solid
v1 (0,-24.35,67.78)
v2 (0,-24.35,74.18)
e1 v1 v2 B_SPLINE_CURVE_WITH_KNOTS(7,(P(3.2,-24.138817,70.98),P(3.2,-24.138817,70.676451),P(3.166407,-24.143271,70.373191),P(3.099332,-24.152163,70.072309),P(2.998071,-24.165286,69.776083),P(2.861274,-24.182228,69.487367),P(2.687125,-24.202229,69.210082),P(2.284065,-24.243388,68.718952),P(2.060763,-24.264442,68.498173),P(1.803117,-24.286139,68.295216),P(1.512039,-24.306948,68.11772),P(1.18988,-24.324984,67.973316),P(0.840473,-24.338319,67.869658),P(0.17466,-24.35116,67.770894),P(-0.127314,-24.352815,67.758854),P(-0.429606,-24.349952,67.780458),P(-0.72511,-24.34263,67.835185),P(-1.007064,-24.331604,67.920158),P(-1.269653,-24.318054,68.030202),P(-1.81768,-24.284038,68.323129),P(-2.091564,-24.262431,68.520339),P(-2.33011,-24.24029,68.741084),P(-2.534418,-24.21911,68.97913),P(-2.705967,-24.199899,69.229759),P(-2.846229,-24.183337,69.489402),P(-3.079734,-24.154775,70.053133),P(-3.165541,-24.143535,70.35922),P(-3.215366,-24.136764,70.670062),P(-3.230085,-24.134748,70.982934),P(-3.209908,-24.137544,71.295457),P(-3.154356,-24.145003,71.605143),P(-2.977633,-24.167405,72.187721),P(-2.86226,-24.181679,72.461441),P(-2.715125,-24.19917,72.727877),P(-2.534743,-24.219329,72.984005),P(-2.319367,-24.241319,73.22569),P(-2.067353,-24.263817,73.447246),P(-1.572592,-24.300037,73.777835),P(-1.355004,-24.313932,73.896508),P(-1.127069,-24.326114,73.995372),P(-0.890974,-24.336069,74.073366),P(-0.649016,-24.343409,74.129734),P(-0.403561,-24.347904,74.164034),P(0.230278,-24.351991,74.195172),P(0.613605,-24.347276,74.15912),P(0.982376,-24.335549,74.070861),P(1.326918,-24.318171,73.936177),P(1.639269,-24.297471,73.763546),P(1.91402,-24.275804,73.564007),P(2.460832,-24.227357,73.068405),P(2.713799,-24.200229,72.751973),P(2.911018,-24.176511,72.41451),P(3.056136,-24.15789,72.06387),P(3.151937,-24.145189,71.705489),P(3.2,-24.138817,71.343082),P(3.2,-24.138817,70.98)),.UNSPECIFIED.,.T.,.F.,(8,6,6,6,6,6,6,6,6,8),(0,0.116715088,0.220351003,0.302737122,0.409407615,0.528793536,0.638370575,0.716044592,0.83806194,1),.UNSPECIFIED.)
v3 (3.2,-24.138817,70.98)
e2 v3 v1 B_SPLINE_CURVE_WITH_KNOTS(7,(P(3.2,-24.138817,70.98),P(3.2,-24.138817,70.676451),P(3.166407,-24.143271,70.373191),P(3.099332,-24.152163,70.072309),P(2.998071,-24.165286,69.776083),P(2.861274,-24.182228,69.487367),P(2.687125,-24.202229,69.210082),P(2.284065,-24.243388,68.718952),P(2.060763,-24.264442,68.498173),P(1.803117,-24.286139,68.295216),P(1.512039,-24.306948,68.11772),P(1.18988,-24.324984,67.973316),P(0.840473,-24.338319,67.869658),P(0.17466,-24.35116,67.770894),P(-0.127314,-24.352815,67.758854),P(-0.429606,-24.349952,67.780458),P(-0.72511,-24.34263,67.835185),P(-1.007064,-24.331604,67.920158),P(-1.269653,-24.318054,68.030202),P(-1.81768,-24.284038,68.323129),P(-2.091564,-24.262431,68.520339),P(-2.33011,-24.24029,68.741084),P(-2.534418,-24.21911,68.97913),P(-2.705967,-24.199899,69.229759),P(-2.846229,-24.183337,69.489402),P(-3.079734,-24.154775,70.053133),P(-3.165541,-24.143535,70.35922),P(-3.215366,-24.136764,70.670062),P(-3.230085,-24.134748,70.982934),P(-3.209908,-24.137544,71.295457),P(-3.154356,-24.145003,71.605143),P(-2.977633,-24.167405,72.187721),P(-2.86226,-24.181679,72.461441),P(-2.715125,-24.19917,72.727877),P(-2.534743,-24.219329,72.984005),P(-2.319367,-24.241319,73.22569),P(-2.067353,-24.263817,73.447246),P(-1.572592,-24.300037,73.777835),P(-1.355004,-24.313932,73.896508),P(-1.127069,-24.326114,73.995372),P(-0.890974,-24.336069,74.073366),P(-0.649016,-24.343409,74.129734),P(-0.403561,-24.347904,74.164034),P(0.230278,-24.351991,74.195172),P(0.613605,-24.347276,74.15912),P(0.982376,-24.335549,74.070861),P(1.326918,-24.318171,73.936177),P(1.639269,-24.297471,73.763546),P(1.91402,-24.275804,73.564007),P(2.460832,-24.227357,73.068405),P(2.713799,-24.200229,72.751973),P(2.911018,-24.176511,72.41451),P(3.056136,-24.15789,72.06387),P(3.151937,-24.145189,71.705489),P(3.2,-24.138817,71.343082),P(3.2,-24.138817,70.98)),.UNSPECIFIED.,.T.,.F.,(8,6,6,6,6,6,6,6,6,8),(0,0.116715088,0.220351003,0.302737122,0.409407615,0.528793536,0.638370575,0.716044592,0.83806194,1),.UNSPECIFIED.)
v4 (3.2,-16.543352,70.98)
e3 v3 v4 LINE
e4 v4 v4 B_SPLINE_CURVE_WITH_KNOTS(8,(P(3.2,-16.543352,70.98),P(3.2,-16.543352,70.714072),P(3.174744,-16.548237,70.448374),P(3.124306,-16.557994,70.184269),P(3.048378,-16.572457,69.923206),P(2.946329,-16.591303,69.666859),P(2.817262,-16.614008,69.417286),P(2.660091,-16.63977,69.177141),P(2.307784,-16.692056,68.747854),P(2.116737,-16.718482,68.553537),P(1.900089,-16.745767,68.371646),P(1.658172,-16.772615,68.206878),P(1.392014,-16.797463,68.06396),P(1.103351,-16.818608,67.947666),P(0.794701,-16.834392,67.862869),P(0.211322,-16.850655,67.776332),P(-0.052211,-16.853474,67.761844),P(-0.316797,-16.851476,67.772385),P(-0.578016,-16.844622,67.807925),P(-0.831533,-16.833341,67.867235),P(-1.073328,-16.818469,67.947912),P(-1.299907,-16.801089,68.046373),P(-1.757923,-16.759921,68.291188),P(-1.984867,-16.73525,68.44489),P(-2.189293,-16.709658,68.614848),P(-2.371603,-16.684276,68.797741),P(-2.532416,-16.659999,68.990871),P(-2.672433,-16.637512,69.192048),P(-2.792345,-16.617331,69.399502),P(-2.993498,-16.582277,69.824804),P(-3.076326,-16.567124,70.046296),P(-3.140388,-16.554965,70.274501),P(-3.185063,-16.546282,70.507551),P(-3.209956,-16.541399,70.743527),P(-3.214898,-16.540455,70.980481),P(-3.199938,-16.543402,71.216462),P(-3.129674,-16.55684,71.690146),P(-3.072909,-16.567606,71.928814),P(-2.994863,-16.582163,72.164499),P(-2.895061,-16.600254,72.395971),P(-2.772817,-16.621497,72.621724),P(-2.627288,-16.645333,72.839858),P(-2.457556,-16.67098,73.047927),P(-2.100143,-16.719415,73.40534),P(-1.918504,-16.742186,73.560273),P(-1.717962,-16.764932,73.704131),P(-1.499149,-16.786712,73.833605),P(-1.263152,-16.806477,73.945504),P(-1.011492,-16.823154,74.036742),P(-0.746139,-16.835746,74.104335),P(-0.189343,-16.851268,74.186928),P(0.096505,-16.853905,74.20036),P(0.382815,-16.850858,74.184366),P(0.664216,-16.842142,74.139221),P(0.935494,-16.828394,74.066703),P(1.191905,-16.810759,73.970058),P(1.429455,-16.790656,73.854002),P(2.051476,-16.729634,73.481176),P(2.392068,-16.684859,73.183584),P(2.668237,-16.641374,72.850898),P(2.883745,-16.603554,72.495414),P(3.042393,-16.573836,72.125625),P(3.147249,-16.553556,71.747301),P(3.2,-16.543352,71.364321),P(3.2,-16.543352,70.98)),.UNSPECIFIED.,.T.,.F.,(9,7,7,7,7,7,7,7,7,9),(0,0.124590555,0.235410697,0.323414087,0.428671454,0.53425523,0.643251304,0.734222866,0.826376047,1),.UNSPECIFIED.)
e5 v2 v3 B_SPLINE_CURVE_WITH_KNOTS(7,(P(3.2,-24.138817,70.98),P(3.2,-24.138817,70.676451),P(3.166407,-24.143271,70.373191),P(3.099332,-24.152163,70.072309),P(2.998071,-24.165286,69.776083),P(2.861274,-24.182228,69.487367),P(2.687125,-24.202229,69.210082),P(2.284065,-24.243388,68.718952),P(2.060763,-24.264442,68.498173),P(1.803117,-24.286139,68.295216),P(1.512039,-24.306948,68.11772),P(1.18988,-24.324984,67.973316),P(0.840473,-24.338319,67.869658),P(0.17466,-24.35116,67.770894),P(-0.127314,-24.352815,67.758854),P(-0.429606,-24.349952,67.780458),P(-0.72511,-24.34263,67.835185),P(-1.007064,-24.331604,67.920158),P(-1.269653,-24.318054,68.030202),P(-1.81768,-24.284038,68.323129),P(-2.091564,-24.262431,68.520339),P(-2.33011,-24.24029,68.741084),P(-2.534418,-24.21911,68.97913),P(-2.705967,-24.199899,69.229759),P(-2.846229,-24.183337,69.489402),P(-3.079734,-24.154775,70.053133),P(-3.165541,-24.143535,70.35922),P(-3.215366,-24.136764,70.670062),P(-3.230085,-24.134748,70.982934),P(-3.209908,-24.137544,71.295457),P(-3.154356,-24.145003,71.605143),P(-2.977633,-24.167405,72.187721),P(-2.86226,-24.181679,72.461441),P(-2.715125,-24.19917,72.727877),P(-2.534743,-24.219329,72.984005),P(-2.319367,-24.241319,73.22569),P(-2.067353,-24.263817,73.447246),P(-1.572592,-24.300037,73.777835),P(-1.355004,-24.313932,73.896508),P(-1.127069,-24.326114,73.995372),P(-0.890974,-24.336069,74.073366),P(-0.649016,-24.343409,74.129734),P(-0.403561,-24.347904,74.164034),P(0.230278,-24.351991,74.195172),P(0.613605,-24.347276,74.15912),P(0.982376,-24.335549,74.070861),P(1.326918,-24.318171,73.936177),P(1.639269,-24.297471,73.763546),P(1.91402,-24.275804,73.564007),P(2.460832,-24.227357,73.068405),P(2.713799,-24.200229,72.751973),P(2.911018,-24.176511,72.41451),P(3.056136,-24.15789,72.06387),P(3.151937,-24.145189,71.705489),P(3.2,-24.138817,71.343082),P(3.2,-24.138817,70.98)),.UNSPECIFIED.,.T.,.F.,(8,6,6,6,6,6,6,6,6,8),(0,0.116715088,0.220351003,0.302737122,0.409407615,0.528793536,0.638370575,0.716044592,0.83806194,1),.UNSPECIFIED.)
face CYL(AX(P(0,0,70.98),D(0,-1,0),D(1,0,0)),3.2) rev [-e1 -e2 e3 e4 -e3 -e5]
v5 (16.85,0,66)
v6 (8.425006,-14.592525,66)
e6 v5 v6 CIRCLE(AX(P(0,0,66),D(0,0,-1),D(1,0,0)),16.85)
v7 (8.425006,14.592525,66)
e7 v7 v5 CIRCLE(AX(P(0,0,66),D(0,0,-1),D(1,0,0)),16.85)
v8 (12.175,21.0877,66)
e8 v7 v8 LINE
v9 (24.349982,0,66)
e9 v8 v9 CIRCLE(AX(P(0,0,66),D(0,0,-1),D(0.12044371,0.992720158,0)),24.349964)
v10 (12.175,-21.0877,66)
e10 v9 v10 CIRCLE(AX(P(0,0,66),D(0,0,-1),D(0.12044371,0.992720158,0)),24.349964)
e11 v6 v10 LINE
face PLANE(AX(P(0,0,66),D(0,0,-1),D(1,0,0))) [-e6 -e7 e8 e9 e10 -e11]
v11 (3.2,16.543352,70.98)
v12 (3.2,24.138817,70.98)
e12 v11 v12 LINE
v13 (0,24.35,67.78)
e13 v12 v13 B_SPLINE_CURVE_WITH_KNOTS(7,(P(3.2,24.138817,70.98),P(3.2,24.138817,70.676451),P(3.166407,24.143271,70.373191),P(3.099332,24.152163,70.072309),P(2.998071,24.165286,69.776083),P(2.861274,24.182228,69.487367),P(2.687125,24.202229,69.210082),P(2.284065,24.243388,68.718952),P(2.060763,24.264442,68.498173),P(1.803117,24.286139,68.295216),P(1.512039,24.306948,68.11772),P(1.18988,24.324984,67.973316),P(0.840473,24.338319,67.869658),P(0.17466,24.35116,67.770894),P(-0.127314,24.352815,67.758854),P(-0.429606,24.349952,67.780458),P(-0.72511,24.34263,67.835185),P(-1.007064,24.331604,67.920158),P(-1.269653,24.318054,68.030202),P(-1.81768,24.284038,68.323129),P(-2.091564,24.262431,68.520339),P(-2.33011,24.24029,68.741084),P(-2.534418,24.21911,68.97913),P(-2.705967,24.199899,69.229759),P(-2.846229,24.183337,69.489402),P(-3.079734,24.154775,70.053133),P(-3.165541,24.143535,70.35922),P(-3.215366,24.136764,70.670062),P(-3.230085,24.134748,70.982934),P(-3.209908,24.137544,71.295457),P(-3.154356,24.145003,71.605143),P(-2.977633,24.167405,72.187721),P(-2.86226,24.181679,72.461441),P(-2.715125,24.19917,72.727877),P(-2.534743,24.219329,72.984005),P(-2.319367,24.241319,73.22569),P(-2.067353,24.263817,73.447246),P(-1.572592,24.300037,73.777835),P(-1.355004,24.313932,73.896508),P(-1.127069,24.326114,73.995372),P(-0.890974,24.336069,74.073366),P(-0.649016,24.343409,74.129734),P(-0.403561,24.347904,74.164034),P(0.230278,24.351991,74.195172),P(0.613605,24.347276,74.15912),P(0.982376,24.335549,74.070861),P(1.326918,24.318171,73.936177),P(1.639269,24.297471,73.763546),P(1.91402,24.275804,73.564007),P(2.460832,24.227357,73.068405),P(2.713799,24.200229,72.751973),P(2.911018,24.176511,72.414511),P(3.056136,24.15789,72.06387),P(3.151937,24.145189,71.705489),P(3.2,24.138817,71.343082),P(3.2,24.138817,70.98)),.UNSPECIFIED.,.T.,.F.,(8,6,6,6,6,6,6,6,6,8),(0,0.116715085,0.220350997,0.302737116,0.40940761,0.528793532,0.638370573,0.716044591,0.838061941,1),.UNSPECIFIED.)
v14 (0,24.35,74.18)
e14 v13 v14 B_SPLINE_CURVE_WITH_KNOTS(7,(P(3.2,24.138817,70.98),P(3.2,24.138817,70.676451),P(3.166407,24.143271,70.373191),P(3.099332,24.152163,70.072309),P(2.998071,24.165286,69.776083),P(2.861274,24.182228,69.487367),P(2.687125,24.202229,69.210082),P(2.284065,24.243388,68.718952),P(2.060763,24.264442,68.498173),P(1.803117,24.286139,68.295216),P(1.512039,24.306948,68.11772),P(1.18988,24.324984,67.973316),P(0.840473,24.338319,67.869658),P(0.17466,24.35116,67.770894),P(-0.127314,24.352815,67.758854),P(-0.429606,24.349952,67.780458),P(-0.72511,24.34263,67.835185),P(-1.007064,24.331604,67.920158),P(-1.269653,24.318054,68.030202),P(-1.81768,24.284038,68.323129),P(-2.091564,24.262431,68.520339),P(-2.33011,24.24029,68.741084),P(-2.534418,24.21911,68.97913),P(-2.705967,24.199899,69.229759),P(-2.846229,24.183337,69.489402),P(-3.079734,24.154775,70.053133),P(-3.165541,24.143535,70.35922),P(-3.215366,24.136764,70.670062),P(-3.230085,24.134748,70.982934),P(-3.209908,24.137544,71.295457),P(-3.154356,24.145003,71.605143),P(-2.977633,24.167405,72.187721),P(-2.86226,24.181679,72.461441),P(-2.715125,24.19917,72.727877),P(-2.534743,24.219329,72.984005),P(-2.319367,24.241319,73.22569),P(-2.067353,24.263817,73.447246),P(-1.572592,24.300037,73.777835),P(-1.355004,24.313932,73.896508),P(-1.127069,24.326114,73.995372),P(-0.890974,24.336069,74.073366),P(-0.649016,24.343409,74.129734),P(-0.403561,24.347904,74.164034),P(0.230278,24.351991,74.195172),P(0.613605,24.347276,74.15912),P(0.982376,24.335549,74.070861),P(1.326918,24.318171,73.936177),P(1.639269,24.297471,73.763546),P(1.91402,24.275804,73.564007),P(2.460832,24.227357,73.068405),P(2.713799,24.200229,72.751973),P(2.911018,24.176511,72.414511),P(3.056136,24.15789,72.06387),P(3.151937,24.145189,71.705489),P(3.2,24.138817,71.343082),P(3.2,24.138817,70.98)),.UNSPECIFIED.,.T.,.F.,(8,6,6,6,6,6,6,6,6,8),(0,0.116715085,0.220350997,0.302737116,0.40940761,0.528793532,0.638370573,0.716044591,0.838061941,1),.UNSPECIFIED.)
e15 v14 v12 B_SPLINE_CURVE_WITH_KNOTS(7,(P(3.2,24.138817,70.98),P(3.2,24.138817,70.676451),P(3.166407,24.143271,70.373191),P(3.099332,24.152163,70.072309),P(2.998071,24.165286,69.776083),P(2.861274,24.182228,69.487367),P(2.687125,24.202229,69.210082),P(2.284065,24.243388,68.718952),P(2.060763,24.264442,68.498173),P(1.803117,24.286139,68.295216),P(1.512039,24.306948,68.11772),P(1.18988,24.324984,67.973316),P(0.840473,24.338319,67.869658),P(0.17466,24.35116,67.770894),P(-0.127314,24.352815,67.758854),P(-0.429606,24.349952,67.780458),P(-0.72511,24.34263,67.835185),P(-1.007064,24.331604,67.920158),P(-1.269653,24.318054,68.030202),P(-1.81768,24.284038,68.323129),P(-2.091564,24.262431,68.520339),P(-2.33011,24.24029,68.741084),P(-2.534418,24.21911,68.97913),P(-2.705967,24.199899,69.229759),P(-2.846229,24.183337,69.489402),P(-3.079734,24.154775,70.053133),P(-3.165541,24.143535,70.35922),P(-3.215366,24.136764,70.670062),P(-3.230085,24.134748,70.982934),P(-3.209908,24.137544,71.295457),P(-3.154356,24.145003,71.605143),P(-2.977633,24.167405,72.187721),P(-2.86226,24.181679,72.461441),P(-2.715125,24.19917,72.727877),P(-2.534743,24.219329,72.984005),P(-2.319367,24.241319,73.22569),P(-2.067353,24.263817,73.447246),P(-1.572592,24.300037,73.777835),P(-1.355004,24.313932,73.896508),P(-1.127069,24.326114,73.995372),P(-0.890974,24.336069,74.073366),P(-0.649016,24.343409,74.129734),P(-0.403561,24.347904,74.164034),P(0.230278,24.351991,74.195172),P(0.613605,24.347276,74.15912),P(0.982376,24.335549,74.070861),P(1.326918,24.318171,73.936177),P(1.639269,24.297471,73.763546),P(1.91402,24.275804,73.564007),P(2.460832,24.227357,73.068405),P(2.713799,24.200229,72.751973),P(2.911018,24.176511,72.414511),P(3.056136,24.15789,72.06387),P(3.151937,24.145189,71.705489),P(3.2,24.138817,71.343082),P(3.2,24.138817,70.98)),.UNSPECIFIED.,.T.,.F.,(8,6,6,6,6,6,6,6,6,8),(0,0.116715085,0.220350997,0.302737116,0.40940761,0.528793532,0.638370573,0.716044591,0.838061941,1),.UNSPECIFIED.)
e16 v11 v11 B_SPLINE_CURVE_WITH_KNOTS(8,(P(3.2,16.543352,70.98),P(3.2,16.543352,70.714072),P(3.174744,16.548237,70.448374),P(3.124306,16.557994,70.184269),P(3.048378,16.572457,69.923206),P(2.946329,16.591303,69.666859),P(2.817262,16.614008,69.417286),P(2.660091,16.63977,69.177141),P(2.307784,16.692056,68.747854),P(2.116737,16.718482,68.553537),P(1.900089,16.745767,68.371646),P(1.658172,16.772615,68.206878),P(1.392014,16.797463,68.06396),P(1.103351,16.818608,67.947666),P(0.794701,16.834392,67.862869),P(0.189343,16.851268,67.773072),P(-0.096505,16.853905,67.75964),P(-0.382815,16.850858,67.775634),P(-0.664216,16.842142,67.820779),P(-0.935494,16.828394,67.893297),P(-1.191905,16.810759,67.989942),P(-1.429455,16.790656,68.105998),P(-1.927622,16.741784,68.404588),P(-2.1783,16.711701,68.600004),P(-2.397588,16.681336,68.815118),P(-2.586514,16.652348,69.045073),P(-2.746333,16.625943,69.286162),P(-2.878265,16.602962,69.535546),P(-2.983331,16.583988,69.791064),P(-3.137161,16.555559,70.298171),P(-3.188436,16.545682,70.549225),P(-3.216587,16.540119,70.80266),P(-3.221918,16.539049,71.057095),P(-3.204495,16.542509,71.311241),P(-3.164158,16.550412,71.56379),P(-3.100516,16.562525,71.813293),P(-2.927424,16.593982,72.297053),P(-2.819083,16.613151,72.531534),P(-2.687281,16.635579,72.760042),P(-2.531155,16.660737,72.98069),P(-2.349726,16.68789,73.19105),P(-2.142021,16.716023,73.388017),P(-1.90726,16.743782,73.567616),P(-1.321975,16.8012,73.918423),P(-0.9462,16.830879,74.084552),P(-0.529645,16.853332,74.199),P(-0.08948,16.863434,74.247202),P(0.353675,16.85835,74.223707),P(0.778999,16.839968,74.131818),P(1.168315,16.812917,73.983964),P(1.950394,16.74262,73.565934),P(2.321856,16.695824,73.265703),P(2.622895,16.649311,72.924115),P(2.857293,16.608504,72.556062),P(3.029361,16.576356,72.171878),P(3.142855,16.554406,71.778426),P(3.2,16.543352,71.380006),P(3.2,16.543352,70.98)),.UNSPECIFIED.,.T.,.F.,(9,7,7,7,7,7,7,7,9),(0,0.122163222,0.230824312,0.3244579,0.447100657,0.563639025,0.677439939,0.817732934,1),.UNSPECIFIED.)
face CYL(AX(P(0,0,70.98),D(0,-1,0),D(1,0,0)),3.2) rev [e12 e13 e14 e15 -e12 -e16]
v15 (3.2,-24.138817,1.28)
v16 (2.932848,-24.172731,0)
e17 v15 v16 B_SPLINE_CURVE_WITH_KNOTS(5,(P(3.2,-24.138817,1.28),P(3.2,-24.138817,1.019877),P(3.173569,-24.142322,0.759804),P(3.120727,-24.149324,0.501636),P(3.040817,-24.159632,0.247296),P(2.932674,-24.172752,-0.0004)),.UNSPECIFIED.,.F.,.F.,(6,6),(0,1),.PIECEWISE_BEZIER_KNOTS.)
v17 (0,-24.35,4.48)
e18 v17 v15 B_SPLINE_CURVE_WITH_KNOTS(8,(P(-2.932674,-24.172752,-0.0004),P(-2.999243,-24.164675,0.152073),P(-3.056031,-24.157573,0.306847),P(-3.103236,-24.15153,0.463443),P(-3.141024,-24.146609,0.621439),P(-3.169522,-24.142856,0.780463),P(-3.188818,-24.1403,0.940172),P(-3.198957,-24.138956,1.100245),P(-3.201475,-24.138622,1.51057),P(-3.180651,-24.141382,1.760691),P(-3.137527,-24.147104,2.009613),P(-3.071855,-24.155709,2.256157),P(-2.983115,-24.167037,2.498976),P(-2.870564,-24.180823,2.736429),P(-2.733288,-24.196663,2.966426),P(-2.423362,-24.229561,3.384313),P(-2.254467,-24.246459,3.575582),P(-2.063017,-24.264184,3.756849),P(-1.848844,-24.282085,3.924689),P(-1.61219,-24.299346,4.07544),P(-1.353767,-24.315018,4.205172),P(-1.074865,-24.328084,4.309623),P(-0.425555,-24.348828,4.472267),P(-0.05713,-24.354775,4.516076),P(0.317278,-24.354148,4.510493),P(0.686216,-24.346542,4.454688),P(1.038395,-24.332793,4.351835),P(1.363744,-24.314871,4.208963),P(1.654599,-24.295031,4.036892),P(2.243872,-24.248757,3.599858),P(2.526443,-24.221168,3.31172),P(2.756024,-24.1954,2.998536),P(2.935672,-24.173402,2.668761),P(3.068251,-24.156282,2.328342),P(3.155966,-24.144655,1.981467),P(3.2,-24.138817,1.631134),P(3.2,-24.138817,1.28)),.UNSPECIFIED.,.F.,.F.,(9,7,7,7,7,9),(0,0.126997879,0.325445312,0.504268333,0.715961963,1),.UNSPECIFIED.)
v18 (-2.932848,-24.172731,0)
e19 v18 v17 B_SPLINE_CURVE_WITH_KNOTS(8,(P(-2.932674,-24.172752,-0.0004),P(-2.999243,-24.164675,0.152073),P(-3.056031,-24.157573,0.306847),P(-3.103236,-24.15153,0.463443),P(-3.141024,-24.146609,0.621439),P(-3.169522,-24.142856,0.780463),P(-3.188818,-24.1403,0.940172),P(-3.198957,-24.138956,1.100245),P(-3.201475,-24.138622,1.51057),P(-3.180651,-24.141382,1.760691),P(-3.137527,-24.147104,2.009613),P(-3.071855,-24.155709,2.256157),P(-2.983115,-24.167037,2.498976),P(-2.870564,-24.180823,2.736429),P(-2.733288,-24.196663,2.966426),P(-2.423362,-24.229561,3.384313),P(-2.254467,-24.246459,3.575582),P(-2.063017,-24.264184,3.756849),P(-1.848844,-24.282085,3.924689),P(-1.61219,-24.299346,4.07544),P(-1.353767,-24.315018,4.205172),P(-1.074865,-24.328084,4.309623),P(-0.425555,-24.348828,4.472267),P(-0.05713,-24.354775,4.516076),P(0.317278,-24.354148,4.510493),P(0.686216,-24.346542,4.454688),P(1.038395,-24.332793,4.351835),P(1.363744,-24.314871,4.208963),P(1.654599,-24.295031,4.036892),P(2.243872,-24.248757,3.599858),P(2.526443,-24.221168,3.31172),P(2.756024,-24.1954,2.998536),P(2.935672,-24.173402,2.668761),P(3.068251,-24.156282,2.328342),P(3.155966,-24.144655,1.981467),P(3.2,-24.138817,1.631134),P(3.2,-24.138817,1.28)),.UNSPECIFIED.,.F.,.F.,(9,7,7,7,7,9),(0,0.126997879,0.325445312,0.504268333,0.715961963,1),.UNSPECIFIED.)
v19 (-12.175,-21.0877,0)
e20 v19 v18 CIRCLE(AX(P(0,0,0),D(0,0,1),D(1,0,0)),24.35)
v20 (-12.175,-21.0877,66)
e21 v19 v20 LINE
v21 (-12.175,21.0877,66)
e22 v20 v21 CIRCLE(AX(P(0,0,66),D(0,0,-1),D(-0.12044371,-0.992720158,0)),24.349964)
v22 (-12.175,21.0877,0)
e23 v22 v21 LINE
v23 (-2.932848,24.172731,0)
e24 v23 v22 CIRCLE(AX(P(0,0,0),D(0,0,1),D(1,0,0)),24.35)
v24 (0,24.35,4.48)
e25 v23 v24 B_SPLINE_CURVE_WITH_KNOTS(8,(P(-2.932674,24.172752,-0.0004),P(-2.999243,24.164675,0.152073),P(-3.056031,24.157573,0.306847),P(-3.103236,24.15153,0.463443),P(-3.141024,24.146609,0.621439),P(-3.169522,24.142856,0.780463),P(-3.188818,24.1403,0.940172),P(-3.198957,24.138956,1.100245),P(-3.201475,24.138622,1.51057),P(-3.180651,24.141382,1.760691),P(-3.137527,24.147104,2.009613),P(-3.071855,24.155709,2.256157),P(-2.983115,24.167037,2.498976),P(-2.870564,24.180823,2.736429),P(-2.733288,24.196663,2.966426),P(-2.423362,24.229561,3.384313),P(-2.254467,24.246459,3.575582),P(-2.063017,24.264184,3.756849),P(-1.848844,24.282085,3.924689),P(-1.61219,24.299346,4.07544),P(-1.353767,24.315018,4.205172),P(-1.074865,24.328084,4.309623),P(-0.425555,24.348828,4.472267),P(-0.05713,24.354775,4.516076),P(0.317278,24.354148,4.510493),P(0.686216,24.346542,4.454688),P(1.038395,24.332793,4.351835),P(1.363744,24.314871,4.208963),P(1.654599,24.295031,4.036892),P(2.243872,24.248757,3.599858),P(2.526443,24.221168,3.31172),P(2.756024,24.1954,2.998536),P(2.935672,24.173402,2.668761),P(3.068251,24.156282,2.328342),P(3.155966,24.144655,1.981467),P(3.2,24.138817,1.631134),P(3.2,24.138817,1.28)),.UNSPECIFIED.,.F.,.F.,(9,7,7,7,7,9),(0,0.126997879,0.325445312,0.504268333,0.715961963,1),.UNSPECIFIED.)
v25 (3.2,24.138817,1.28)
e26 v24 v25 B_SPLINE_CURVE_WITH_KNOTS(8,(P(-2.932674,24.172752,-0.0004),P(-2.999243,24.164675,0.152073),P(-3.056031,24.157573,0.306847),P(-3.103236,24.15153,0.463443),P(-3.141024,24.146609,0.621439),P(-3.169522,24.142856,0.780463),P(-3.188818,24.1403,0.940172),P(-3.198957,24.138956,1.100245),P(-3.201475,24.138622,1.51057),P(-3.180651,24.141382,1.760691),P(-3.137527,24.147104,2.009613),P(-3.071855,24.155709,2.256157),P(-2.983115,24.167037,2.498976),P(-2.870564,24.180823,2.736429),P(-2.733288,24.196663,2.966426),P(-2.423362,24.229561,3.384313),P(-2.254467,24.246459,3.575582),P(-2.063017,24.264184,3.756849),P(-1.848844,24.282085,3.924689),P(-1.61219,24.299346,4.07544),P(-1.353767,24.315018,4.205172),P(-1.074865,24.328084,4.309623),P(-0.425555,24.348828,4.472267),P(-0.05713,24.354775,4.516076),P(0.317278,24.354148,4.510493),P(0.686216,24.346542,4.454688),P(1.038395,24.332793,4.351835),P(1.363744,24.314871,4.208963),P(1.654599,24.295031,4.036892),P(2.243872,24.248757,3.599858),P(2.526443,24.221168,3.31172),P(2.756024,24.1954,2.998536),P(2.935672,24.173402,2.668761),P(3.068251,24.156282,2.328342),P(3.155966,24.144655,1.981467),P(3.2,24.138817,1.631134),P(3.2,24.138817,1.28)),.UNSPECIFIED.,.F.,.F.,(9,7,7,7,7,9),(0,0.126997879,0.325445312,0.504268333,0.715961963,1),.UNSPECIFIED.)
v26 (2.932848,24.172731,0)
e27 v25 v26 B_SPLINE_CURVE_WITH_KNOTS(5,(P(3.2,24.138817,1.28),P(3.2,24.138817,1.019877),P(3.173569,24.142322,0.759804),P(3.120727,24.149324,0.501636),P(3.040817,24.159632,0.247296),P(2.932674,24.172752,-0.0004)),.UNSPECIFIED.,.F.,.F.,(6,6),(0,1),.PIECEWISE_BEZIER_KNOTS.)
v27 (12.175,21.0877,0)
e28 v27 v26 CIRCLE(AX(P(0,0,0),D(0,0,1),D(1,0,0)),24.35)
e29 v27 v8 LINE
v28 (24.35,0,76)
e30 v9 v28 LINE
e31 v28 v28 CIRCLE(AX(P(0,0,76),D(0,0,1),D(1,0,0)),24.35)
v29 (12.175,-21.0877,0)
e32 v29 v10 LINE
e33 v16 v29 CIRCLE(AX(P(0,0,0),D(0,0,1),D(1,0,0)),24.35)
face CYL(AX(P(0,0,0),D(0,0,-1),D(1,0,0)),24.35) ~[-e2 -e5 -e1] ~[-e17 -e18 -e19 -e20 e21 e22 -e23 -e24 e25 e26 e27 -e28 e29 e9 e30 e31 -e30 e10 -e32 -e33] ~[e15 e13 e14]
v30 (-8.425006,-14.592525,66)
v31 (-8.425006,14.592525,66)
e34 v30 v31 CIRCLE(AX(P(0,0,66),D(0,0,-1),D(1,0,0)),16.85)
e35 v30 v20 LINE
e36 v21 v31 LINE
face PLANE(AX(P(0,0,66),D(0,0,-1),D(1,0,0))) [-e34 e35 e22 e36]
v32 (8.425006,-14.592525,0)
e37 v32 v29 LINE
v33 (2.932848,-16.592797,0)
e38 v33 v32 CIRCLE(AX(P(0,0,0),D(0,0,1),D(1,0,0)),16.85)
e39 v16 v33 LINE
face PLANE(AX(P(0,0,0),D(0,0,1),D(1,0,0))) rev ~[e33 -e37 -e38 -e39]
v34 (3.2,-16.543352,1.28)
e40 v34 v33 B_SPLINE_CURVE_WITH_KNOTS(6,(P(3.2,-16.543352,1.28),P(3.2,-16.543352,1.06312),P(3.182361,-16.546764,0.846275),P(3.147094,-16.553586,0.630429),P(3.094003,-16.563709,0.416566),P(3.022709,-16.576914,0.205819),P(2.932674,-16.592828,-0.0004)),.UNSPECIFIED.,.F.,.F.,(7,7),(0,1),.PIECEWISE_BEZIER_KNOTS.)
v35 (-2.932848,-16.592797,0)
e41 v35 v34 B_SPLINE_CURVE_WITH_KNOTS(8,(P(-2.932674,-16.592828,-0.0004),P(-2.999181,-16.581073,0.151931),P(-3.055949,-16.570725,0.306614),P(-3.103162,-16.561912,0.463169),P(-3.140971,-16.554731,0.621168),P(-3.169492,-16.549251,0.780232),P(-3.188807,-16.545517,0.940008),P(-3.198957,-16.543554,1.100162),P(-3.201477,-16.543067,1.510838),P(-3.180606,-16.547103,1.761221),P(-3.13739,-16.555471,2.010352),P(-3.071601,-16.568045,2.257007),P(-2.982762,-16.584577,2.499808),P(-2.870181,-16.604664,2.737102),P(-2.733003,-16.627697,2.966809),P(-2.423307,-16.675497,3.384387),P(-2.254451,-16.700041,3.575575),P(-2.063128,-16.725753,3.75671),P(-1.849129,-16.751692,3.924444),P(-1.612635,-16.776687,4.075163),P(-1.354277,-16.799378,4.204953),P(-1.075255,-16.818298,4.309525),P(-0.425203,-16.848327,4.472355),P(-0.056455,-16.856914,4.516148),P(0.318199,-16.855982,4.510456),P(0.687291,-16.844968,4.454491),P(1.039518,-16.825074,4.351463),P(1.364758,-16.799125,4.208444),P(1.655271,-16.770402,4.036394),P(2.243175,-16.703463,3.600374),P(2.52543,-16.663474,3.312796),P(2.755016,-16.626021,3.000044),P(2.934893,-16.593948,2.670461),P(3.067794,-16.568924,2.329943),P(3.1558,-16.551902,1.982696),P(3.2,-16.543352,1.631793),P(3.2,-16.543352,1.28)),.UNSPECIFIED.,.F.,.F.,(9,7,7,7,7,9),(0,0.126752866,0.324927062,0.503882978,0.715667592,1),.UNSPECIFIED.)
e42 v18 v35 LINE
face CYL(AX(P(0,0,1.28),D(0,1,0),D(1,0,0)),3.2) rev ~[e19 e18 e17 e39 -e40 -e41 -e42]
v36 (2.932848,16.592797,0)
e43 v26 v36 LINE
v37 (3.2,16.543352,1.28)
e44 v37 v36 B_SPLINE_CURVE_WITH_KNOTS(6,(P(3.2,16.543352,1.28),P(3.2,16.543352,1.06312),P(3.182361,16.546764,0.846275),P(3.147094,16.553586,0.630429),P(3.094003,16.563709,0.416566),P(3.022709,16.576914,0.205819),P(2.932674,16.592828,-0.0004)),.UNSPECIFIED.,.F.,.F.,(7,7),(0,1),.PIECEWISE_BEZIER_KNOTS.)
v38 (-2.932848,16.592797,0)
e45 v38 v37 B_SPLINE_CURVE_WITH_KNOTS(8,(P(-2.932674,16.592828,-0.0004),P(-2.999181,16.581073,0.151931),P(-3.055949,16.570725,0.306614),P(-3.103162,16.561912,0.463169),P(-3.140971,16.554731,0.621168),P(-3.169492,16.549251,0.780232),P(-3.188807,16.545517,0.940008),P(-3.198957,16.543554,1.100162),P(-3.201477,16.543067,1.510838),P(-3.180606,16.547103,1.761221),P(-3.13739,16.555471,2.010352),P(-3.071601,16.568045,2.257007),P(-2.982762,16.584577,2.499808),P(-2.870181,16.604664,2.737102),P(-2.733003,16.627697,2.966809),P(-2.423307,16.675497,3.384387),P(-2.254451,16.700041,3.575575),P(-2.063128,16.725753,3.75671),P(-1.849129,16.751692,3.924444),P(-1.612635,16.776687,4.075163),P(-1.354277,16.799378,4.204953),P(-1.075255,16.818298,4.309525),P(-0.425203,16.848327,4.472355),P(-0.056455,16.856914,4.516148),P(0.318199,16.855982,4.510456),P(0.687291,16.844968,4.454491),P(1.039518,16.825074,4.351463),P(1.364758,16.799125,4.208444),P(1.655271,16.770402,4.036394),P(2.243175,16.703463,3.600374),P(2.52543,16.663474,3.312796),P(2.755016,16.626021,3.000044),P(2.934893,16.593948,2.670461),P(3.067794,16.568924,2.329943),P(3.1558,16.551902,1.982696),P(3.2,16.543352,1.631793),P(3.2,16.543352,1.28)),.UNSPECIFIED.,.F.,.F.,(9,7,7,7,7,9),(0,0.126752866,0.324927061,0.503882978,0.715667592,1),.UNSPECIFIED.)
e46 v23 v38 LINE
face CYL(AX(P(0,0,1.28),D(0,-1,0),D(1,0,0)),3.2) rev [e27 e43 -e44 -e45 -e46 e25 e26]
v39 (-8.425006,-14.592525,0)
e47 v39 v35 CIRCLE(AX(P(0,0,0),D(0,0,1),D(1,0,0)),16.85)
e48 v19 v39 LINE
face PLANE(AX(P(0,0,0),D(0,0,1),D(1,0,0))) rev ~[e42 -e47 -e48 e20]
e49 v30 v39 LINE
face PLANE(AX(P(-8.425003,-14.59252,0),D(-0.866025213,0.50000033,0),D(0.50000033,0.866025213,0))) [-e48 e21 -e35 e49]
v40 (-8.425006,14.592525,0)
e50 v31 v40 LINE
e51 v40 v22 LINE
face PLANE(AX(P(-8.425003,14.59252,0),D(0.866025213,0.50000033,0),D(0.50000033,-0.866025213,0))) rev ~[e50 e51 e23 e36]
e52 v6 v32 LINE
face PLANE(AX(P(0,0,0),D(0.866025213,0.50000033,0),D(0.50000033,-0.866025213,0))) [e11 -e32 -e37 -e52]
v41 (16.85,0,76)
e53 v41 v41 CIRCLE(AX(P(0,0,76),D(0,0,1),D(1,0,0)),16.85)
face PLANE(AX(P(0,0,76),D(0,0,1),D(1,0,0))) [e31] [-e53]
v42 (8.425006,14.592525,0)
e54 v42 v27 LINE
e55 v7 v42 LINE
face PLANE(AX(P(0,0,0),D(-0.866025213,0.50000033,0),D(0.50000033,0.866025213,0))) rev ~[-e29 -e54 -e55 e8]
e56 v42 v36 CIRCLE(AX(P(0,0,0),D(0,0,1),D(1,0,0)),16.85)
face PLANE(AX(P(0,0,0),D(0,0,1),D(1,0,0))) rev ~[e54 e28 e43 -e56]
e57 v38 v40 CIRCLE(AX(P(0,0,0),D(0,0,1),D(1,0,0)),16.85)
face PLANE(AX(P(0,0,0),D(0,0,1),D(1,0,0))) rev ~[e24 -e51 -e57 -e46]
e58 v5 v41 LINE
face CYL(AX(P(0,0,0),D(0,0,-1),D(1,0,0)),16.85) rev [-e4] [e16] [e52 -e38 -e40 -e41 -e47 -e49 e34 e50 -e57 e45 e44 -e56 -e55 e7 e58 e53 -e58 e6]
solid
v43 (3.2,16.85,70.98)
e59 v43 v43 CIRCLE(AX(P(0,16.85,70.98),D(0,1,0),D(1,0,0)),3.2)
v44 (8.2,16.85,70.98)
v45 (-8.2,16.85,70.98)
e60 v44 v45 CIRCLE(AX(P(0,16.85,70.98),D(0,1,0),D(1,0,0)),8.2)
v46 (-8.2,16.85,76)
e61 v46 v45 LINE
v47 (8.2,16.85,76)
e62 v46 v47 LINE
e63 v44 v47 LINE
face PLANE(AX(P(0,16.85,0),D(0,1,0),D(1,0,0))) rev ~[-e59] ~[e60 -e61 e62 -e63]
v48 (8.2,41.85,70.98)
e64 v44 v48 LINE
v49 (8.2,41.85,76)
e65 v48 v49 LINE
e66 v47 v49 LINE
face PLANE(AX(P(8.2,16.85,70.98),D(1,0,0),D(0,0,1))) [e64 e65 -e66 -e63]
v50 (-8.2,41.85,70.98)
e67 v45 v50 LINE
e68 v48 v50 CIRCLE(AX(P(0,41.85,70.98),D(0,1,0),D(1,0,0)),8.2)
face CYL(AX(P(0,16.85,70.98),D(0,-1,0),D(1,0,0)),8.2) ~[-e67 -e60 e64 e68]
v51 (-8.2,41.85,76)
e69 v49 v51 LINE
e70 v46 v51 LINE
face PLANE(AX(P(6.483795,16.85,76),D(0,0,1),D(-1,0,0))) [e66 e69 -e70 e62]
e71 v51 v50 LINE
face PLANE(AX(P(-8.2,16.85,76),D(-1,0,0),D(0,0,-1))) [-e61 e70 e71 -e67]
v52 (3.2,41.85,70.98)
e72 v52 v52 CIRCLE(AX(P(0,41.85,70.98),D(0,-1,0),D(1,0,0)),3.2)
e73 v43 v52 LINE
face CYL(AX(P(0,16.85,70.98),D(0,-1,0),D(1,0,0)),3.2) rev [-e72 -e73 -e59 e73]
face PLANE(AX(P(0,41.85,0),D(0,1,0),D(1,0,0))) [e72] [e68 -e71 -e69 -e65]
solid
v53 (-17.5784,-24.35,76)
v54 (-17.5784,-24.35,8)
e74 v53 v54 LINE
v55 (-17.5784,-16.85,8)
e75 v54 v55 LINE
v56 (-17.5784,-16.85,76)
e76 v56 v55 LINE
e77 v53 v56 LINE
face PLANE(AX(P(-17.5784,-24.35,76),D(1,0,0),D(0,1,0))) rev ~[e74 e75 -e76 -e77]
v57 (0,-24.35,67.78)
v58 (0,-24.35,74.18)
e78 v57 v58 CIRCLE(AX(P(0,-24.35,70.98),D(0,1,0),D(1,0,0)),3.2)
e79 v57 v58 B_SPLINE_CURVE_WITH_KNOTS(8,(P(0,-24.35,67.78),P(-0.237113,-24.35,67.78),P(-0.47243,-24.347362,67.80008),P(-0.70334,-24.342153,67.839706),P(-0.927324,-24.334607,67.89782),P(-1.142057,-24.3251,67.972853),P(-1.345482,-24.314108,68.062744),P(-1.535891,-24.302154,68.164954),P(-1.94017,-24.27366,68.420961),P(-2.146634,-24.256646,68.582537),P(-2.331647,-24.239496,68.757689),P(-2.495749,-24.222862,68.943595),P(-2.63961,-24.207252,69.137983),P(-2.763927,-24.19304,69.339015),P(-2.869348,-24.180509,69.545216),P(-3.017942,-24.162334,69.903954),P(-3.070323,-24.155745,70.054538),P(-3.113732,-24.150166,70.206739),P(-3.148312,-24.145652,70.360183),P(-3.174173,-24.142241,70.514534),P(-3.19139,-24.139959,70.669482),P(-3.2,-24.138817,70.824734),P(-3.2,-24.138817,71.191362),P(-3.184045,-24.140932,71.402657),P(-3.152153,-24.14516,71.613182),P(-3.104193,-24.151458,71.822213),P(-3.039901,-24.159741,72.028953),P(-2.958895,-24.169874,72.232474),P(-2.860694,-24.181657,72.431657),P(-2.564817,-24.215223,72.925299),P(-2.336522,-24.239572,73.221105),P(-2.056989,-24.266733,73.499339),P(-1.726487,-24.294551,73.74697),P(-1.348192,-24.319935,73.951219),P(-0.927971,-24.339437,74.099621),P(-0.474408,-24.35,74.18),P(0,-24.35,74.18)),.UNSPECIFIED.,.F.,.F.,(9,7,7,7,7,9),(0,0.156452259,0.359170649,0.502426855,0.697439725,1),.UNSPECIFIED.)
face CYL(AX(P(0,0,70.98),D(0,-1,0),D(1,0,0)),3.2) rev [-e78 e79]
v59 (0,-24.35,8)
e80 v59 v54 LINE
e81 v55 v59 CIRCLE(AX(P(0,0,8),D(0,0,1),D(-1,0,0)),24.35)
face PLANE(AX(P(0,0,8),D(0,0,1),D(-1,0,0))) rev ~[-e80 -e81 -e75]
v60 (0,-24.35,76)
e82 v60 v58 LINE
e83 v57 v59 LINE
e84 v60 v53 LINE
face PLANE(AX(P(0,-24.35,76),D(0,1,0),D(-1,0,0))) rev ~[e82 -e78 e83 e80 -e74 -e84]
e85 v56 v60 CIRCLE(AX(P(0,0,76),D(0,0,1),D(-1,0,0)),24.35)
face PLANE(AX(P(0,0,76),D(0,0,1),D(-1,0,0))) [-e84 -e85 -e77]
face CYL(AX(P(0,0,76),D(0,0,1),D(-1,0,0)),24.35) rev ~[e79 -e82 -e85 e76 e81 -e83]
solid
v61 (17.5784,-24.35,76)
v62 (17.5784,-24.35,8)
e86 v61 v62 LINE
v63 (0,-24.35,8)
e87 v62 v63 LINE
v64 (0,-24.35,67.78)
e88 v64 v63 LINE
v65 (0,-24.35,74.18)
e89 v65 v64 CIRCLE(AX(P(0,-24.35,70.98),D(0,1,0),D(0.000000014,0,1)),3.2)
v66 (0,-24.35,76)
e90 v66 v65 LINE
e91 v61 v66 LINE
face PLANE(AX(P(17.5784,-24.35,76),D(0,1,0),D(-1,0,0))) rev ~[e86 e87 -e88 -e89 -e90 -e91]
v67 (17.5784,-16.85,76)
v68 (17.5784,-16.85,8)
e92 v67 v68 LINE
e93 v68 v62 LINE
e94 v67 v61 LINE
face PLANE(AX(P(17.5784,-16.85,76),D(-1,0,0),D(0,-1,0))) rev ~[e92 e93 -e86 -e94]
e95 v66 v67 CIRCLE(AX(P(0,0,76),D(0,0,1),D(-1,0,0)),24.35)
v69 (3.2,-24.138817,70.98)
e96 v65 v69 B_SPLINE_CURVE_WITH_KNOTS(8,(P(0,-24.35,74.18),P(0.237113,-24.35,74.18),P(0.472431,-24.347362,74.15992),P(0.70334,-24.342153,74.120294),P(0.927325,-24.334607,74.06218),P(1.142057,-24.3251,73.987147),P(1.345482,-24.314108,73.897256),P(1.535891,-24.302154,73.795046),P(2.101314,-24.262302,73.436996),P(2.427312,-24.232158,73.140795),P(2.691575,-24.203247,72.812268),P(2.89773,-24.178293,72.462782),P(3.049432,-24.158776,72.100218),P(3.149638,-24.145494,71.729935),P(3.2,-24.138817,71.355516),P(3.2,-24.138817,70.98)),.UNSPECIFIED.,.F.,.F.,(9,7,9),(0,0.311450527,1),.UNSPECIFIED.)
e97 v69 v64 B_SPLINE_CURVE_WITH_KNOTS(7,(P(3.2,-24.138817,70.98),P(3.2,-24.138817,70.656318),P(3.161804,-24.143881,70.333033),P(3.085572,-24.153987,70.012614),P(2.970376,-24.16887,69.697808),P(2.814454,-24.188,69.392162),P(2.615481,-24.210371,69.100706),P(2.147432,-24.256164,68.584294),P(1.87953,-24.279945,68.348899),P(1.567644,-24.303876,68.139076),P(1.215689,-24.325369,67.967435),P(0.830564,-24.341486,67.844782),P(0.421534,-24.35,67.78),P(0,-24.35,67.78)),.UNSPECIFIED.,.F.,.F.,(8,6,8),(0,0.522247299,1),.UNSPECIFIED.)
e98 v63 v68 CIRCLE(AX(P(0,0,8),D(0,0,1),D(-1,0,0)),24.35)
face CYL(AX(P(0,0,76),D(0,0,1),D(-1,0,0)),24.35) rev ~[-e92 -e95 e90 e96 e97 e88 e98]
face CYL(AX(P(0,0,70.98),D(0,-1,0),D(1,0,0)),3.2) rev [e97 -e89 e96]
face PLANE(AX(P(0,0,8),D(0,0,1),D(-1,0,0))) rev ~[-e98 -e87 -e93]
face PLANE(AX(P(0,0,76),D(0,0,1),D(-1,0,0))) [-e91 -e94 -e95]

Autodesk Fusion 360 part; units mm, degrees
sketch "Main Body" plane through (0, 0, 0) normal (0, 0, 1) x (1, 0, 0)
  circle A0 centre (0, 0) radius 16.85
  circle A1 centre (0, 0) radius 24.35
  dimension "d1" = 33.7
  dimension "d2" = 48.7
extrude "Extrude1" add sketch "Main Body" along normal blind 76 makes body 1
sketch "Cut Guide" plane through (0, 0, 0) normal (0, 1, 0) x (1, 0, 0)
  circle A0 centre (0, -1.28) radius 3.2
  circle A1 centre (0, -70.98) radius 3.2
  circle A2 centre (0, -70.98) radius 8.2
  line L0 (-8.2, -70.98) -> (8.2, -70.98)
  line L1 (8.2, -70.98) -> (8.2, -76)
  line L2 (8.2, -76) -> (-8.2, -76)
  line L3 (-8.2, -76) -> (-8.2, -70.98)
  point P0 (0, -41.6319)
  dimension "d5" = 6.4
  dimension "d6" = 1.28
  dimension "d11" = 6.4
  dimension "d12" = 69.7
  dimension "d13" = 16.4
  dimension "d33" = 5.02
extrude "Extrude2" cut sketch "Cut Guide" along normal blind 24.35 and the other way blind 24.35 contours A0 bodies 1
extrude "Extrude3" add sketch "Cut Guide" along normal blind 25 from surface at 16.85 separate body contours A1 A2 L0 L2 | A1 A2 L0 | A2 L1 L2 | A2 L2 L3 makes body 2
sketch "Side Removal" plane through (0, 0, 0) normal (0, 0, -1) x (1, 0, 0)
  line L0 (-2.9328, 16.5928) -> (-2.9328, 24.1727)
  arc A0 (-2.9328, 24.1727) -> (-2.9328, -24.1727) centre (0, 0) ccw
  line L1 (-2.9328, -24.1727) -> (-2.9328, -16.5928)
  arc A1 (-2.9328, 16.5928) -> (-2.9328, -16.5928) centre (0, 0) ccw
  line L2 (-12.175, -21.0877) -> (12.175, 21.0877)
  arc A2 (2.9328, -24.1727) -> (2.9328, 24.1727) centre (0, 0) ccw
  line L3 (-12.175, 21.0877) -> (12.175, -21.0877)
  dimension "d19" = 120
extrude "Extrude4" cut sketch "Side Removal" against normal blind 66 contours L2 A2 L3 | A1 L2 L3 | A0 A1 L2 L3 bodies 1
sketch "Flat Bottom" plane through (0, 0, 76) normal (0, 0, 1) x (-1, 0, 0)
  circle A0 centre (0, 0) radius 16.85
  circle A1 centre (0, 0) radius 24.35
  line L0 (17.5784, 16.85) -> (-17.5784, 16.85)
  line L1 (-17.5784, 16.85) -> (-17.5784, 24.35)
  line L2 (-17.5784, 24.35) -> (17.5784, 24.35)
  line L3 (17.5784, 24.35) -> (17.5784, 16.85)
extrude "Extrude6" add sketch "Flat Bottom" against normal blind 68 separate body contours A1 L2 L3 | A1 L1 L2 makes body 3 at (-13.3955, -20.3343, 30.6667)
extrude "Extrude7" cut sketch "Cut Guide" along normal blind 24.35 and the other way blind 24.35 contours A1 L0 | A1 L0 bodies 1 3
equation "d2 = d1 + 15 mm"
equation "d3 = 76 mm"
equation "d6 = d5 / 5"
equation "d7 = d2 / 2"
equation "d9 = d2 / 2"
equation "d13 = d11 + 10 mm"
equation "d16 = ( d1 ) / 2"
equation "d21 = -( d3 - 10 mm )"
equation "d27 = -d3 + 8 mm"
equation "d29 = d2 / 2"
equation "d31 = d2 / 2"
equation "d33 = d3 - d12 - d6"
